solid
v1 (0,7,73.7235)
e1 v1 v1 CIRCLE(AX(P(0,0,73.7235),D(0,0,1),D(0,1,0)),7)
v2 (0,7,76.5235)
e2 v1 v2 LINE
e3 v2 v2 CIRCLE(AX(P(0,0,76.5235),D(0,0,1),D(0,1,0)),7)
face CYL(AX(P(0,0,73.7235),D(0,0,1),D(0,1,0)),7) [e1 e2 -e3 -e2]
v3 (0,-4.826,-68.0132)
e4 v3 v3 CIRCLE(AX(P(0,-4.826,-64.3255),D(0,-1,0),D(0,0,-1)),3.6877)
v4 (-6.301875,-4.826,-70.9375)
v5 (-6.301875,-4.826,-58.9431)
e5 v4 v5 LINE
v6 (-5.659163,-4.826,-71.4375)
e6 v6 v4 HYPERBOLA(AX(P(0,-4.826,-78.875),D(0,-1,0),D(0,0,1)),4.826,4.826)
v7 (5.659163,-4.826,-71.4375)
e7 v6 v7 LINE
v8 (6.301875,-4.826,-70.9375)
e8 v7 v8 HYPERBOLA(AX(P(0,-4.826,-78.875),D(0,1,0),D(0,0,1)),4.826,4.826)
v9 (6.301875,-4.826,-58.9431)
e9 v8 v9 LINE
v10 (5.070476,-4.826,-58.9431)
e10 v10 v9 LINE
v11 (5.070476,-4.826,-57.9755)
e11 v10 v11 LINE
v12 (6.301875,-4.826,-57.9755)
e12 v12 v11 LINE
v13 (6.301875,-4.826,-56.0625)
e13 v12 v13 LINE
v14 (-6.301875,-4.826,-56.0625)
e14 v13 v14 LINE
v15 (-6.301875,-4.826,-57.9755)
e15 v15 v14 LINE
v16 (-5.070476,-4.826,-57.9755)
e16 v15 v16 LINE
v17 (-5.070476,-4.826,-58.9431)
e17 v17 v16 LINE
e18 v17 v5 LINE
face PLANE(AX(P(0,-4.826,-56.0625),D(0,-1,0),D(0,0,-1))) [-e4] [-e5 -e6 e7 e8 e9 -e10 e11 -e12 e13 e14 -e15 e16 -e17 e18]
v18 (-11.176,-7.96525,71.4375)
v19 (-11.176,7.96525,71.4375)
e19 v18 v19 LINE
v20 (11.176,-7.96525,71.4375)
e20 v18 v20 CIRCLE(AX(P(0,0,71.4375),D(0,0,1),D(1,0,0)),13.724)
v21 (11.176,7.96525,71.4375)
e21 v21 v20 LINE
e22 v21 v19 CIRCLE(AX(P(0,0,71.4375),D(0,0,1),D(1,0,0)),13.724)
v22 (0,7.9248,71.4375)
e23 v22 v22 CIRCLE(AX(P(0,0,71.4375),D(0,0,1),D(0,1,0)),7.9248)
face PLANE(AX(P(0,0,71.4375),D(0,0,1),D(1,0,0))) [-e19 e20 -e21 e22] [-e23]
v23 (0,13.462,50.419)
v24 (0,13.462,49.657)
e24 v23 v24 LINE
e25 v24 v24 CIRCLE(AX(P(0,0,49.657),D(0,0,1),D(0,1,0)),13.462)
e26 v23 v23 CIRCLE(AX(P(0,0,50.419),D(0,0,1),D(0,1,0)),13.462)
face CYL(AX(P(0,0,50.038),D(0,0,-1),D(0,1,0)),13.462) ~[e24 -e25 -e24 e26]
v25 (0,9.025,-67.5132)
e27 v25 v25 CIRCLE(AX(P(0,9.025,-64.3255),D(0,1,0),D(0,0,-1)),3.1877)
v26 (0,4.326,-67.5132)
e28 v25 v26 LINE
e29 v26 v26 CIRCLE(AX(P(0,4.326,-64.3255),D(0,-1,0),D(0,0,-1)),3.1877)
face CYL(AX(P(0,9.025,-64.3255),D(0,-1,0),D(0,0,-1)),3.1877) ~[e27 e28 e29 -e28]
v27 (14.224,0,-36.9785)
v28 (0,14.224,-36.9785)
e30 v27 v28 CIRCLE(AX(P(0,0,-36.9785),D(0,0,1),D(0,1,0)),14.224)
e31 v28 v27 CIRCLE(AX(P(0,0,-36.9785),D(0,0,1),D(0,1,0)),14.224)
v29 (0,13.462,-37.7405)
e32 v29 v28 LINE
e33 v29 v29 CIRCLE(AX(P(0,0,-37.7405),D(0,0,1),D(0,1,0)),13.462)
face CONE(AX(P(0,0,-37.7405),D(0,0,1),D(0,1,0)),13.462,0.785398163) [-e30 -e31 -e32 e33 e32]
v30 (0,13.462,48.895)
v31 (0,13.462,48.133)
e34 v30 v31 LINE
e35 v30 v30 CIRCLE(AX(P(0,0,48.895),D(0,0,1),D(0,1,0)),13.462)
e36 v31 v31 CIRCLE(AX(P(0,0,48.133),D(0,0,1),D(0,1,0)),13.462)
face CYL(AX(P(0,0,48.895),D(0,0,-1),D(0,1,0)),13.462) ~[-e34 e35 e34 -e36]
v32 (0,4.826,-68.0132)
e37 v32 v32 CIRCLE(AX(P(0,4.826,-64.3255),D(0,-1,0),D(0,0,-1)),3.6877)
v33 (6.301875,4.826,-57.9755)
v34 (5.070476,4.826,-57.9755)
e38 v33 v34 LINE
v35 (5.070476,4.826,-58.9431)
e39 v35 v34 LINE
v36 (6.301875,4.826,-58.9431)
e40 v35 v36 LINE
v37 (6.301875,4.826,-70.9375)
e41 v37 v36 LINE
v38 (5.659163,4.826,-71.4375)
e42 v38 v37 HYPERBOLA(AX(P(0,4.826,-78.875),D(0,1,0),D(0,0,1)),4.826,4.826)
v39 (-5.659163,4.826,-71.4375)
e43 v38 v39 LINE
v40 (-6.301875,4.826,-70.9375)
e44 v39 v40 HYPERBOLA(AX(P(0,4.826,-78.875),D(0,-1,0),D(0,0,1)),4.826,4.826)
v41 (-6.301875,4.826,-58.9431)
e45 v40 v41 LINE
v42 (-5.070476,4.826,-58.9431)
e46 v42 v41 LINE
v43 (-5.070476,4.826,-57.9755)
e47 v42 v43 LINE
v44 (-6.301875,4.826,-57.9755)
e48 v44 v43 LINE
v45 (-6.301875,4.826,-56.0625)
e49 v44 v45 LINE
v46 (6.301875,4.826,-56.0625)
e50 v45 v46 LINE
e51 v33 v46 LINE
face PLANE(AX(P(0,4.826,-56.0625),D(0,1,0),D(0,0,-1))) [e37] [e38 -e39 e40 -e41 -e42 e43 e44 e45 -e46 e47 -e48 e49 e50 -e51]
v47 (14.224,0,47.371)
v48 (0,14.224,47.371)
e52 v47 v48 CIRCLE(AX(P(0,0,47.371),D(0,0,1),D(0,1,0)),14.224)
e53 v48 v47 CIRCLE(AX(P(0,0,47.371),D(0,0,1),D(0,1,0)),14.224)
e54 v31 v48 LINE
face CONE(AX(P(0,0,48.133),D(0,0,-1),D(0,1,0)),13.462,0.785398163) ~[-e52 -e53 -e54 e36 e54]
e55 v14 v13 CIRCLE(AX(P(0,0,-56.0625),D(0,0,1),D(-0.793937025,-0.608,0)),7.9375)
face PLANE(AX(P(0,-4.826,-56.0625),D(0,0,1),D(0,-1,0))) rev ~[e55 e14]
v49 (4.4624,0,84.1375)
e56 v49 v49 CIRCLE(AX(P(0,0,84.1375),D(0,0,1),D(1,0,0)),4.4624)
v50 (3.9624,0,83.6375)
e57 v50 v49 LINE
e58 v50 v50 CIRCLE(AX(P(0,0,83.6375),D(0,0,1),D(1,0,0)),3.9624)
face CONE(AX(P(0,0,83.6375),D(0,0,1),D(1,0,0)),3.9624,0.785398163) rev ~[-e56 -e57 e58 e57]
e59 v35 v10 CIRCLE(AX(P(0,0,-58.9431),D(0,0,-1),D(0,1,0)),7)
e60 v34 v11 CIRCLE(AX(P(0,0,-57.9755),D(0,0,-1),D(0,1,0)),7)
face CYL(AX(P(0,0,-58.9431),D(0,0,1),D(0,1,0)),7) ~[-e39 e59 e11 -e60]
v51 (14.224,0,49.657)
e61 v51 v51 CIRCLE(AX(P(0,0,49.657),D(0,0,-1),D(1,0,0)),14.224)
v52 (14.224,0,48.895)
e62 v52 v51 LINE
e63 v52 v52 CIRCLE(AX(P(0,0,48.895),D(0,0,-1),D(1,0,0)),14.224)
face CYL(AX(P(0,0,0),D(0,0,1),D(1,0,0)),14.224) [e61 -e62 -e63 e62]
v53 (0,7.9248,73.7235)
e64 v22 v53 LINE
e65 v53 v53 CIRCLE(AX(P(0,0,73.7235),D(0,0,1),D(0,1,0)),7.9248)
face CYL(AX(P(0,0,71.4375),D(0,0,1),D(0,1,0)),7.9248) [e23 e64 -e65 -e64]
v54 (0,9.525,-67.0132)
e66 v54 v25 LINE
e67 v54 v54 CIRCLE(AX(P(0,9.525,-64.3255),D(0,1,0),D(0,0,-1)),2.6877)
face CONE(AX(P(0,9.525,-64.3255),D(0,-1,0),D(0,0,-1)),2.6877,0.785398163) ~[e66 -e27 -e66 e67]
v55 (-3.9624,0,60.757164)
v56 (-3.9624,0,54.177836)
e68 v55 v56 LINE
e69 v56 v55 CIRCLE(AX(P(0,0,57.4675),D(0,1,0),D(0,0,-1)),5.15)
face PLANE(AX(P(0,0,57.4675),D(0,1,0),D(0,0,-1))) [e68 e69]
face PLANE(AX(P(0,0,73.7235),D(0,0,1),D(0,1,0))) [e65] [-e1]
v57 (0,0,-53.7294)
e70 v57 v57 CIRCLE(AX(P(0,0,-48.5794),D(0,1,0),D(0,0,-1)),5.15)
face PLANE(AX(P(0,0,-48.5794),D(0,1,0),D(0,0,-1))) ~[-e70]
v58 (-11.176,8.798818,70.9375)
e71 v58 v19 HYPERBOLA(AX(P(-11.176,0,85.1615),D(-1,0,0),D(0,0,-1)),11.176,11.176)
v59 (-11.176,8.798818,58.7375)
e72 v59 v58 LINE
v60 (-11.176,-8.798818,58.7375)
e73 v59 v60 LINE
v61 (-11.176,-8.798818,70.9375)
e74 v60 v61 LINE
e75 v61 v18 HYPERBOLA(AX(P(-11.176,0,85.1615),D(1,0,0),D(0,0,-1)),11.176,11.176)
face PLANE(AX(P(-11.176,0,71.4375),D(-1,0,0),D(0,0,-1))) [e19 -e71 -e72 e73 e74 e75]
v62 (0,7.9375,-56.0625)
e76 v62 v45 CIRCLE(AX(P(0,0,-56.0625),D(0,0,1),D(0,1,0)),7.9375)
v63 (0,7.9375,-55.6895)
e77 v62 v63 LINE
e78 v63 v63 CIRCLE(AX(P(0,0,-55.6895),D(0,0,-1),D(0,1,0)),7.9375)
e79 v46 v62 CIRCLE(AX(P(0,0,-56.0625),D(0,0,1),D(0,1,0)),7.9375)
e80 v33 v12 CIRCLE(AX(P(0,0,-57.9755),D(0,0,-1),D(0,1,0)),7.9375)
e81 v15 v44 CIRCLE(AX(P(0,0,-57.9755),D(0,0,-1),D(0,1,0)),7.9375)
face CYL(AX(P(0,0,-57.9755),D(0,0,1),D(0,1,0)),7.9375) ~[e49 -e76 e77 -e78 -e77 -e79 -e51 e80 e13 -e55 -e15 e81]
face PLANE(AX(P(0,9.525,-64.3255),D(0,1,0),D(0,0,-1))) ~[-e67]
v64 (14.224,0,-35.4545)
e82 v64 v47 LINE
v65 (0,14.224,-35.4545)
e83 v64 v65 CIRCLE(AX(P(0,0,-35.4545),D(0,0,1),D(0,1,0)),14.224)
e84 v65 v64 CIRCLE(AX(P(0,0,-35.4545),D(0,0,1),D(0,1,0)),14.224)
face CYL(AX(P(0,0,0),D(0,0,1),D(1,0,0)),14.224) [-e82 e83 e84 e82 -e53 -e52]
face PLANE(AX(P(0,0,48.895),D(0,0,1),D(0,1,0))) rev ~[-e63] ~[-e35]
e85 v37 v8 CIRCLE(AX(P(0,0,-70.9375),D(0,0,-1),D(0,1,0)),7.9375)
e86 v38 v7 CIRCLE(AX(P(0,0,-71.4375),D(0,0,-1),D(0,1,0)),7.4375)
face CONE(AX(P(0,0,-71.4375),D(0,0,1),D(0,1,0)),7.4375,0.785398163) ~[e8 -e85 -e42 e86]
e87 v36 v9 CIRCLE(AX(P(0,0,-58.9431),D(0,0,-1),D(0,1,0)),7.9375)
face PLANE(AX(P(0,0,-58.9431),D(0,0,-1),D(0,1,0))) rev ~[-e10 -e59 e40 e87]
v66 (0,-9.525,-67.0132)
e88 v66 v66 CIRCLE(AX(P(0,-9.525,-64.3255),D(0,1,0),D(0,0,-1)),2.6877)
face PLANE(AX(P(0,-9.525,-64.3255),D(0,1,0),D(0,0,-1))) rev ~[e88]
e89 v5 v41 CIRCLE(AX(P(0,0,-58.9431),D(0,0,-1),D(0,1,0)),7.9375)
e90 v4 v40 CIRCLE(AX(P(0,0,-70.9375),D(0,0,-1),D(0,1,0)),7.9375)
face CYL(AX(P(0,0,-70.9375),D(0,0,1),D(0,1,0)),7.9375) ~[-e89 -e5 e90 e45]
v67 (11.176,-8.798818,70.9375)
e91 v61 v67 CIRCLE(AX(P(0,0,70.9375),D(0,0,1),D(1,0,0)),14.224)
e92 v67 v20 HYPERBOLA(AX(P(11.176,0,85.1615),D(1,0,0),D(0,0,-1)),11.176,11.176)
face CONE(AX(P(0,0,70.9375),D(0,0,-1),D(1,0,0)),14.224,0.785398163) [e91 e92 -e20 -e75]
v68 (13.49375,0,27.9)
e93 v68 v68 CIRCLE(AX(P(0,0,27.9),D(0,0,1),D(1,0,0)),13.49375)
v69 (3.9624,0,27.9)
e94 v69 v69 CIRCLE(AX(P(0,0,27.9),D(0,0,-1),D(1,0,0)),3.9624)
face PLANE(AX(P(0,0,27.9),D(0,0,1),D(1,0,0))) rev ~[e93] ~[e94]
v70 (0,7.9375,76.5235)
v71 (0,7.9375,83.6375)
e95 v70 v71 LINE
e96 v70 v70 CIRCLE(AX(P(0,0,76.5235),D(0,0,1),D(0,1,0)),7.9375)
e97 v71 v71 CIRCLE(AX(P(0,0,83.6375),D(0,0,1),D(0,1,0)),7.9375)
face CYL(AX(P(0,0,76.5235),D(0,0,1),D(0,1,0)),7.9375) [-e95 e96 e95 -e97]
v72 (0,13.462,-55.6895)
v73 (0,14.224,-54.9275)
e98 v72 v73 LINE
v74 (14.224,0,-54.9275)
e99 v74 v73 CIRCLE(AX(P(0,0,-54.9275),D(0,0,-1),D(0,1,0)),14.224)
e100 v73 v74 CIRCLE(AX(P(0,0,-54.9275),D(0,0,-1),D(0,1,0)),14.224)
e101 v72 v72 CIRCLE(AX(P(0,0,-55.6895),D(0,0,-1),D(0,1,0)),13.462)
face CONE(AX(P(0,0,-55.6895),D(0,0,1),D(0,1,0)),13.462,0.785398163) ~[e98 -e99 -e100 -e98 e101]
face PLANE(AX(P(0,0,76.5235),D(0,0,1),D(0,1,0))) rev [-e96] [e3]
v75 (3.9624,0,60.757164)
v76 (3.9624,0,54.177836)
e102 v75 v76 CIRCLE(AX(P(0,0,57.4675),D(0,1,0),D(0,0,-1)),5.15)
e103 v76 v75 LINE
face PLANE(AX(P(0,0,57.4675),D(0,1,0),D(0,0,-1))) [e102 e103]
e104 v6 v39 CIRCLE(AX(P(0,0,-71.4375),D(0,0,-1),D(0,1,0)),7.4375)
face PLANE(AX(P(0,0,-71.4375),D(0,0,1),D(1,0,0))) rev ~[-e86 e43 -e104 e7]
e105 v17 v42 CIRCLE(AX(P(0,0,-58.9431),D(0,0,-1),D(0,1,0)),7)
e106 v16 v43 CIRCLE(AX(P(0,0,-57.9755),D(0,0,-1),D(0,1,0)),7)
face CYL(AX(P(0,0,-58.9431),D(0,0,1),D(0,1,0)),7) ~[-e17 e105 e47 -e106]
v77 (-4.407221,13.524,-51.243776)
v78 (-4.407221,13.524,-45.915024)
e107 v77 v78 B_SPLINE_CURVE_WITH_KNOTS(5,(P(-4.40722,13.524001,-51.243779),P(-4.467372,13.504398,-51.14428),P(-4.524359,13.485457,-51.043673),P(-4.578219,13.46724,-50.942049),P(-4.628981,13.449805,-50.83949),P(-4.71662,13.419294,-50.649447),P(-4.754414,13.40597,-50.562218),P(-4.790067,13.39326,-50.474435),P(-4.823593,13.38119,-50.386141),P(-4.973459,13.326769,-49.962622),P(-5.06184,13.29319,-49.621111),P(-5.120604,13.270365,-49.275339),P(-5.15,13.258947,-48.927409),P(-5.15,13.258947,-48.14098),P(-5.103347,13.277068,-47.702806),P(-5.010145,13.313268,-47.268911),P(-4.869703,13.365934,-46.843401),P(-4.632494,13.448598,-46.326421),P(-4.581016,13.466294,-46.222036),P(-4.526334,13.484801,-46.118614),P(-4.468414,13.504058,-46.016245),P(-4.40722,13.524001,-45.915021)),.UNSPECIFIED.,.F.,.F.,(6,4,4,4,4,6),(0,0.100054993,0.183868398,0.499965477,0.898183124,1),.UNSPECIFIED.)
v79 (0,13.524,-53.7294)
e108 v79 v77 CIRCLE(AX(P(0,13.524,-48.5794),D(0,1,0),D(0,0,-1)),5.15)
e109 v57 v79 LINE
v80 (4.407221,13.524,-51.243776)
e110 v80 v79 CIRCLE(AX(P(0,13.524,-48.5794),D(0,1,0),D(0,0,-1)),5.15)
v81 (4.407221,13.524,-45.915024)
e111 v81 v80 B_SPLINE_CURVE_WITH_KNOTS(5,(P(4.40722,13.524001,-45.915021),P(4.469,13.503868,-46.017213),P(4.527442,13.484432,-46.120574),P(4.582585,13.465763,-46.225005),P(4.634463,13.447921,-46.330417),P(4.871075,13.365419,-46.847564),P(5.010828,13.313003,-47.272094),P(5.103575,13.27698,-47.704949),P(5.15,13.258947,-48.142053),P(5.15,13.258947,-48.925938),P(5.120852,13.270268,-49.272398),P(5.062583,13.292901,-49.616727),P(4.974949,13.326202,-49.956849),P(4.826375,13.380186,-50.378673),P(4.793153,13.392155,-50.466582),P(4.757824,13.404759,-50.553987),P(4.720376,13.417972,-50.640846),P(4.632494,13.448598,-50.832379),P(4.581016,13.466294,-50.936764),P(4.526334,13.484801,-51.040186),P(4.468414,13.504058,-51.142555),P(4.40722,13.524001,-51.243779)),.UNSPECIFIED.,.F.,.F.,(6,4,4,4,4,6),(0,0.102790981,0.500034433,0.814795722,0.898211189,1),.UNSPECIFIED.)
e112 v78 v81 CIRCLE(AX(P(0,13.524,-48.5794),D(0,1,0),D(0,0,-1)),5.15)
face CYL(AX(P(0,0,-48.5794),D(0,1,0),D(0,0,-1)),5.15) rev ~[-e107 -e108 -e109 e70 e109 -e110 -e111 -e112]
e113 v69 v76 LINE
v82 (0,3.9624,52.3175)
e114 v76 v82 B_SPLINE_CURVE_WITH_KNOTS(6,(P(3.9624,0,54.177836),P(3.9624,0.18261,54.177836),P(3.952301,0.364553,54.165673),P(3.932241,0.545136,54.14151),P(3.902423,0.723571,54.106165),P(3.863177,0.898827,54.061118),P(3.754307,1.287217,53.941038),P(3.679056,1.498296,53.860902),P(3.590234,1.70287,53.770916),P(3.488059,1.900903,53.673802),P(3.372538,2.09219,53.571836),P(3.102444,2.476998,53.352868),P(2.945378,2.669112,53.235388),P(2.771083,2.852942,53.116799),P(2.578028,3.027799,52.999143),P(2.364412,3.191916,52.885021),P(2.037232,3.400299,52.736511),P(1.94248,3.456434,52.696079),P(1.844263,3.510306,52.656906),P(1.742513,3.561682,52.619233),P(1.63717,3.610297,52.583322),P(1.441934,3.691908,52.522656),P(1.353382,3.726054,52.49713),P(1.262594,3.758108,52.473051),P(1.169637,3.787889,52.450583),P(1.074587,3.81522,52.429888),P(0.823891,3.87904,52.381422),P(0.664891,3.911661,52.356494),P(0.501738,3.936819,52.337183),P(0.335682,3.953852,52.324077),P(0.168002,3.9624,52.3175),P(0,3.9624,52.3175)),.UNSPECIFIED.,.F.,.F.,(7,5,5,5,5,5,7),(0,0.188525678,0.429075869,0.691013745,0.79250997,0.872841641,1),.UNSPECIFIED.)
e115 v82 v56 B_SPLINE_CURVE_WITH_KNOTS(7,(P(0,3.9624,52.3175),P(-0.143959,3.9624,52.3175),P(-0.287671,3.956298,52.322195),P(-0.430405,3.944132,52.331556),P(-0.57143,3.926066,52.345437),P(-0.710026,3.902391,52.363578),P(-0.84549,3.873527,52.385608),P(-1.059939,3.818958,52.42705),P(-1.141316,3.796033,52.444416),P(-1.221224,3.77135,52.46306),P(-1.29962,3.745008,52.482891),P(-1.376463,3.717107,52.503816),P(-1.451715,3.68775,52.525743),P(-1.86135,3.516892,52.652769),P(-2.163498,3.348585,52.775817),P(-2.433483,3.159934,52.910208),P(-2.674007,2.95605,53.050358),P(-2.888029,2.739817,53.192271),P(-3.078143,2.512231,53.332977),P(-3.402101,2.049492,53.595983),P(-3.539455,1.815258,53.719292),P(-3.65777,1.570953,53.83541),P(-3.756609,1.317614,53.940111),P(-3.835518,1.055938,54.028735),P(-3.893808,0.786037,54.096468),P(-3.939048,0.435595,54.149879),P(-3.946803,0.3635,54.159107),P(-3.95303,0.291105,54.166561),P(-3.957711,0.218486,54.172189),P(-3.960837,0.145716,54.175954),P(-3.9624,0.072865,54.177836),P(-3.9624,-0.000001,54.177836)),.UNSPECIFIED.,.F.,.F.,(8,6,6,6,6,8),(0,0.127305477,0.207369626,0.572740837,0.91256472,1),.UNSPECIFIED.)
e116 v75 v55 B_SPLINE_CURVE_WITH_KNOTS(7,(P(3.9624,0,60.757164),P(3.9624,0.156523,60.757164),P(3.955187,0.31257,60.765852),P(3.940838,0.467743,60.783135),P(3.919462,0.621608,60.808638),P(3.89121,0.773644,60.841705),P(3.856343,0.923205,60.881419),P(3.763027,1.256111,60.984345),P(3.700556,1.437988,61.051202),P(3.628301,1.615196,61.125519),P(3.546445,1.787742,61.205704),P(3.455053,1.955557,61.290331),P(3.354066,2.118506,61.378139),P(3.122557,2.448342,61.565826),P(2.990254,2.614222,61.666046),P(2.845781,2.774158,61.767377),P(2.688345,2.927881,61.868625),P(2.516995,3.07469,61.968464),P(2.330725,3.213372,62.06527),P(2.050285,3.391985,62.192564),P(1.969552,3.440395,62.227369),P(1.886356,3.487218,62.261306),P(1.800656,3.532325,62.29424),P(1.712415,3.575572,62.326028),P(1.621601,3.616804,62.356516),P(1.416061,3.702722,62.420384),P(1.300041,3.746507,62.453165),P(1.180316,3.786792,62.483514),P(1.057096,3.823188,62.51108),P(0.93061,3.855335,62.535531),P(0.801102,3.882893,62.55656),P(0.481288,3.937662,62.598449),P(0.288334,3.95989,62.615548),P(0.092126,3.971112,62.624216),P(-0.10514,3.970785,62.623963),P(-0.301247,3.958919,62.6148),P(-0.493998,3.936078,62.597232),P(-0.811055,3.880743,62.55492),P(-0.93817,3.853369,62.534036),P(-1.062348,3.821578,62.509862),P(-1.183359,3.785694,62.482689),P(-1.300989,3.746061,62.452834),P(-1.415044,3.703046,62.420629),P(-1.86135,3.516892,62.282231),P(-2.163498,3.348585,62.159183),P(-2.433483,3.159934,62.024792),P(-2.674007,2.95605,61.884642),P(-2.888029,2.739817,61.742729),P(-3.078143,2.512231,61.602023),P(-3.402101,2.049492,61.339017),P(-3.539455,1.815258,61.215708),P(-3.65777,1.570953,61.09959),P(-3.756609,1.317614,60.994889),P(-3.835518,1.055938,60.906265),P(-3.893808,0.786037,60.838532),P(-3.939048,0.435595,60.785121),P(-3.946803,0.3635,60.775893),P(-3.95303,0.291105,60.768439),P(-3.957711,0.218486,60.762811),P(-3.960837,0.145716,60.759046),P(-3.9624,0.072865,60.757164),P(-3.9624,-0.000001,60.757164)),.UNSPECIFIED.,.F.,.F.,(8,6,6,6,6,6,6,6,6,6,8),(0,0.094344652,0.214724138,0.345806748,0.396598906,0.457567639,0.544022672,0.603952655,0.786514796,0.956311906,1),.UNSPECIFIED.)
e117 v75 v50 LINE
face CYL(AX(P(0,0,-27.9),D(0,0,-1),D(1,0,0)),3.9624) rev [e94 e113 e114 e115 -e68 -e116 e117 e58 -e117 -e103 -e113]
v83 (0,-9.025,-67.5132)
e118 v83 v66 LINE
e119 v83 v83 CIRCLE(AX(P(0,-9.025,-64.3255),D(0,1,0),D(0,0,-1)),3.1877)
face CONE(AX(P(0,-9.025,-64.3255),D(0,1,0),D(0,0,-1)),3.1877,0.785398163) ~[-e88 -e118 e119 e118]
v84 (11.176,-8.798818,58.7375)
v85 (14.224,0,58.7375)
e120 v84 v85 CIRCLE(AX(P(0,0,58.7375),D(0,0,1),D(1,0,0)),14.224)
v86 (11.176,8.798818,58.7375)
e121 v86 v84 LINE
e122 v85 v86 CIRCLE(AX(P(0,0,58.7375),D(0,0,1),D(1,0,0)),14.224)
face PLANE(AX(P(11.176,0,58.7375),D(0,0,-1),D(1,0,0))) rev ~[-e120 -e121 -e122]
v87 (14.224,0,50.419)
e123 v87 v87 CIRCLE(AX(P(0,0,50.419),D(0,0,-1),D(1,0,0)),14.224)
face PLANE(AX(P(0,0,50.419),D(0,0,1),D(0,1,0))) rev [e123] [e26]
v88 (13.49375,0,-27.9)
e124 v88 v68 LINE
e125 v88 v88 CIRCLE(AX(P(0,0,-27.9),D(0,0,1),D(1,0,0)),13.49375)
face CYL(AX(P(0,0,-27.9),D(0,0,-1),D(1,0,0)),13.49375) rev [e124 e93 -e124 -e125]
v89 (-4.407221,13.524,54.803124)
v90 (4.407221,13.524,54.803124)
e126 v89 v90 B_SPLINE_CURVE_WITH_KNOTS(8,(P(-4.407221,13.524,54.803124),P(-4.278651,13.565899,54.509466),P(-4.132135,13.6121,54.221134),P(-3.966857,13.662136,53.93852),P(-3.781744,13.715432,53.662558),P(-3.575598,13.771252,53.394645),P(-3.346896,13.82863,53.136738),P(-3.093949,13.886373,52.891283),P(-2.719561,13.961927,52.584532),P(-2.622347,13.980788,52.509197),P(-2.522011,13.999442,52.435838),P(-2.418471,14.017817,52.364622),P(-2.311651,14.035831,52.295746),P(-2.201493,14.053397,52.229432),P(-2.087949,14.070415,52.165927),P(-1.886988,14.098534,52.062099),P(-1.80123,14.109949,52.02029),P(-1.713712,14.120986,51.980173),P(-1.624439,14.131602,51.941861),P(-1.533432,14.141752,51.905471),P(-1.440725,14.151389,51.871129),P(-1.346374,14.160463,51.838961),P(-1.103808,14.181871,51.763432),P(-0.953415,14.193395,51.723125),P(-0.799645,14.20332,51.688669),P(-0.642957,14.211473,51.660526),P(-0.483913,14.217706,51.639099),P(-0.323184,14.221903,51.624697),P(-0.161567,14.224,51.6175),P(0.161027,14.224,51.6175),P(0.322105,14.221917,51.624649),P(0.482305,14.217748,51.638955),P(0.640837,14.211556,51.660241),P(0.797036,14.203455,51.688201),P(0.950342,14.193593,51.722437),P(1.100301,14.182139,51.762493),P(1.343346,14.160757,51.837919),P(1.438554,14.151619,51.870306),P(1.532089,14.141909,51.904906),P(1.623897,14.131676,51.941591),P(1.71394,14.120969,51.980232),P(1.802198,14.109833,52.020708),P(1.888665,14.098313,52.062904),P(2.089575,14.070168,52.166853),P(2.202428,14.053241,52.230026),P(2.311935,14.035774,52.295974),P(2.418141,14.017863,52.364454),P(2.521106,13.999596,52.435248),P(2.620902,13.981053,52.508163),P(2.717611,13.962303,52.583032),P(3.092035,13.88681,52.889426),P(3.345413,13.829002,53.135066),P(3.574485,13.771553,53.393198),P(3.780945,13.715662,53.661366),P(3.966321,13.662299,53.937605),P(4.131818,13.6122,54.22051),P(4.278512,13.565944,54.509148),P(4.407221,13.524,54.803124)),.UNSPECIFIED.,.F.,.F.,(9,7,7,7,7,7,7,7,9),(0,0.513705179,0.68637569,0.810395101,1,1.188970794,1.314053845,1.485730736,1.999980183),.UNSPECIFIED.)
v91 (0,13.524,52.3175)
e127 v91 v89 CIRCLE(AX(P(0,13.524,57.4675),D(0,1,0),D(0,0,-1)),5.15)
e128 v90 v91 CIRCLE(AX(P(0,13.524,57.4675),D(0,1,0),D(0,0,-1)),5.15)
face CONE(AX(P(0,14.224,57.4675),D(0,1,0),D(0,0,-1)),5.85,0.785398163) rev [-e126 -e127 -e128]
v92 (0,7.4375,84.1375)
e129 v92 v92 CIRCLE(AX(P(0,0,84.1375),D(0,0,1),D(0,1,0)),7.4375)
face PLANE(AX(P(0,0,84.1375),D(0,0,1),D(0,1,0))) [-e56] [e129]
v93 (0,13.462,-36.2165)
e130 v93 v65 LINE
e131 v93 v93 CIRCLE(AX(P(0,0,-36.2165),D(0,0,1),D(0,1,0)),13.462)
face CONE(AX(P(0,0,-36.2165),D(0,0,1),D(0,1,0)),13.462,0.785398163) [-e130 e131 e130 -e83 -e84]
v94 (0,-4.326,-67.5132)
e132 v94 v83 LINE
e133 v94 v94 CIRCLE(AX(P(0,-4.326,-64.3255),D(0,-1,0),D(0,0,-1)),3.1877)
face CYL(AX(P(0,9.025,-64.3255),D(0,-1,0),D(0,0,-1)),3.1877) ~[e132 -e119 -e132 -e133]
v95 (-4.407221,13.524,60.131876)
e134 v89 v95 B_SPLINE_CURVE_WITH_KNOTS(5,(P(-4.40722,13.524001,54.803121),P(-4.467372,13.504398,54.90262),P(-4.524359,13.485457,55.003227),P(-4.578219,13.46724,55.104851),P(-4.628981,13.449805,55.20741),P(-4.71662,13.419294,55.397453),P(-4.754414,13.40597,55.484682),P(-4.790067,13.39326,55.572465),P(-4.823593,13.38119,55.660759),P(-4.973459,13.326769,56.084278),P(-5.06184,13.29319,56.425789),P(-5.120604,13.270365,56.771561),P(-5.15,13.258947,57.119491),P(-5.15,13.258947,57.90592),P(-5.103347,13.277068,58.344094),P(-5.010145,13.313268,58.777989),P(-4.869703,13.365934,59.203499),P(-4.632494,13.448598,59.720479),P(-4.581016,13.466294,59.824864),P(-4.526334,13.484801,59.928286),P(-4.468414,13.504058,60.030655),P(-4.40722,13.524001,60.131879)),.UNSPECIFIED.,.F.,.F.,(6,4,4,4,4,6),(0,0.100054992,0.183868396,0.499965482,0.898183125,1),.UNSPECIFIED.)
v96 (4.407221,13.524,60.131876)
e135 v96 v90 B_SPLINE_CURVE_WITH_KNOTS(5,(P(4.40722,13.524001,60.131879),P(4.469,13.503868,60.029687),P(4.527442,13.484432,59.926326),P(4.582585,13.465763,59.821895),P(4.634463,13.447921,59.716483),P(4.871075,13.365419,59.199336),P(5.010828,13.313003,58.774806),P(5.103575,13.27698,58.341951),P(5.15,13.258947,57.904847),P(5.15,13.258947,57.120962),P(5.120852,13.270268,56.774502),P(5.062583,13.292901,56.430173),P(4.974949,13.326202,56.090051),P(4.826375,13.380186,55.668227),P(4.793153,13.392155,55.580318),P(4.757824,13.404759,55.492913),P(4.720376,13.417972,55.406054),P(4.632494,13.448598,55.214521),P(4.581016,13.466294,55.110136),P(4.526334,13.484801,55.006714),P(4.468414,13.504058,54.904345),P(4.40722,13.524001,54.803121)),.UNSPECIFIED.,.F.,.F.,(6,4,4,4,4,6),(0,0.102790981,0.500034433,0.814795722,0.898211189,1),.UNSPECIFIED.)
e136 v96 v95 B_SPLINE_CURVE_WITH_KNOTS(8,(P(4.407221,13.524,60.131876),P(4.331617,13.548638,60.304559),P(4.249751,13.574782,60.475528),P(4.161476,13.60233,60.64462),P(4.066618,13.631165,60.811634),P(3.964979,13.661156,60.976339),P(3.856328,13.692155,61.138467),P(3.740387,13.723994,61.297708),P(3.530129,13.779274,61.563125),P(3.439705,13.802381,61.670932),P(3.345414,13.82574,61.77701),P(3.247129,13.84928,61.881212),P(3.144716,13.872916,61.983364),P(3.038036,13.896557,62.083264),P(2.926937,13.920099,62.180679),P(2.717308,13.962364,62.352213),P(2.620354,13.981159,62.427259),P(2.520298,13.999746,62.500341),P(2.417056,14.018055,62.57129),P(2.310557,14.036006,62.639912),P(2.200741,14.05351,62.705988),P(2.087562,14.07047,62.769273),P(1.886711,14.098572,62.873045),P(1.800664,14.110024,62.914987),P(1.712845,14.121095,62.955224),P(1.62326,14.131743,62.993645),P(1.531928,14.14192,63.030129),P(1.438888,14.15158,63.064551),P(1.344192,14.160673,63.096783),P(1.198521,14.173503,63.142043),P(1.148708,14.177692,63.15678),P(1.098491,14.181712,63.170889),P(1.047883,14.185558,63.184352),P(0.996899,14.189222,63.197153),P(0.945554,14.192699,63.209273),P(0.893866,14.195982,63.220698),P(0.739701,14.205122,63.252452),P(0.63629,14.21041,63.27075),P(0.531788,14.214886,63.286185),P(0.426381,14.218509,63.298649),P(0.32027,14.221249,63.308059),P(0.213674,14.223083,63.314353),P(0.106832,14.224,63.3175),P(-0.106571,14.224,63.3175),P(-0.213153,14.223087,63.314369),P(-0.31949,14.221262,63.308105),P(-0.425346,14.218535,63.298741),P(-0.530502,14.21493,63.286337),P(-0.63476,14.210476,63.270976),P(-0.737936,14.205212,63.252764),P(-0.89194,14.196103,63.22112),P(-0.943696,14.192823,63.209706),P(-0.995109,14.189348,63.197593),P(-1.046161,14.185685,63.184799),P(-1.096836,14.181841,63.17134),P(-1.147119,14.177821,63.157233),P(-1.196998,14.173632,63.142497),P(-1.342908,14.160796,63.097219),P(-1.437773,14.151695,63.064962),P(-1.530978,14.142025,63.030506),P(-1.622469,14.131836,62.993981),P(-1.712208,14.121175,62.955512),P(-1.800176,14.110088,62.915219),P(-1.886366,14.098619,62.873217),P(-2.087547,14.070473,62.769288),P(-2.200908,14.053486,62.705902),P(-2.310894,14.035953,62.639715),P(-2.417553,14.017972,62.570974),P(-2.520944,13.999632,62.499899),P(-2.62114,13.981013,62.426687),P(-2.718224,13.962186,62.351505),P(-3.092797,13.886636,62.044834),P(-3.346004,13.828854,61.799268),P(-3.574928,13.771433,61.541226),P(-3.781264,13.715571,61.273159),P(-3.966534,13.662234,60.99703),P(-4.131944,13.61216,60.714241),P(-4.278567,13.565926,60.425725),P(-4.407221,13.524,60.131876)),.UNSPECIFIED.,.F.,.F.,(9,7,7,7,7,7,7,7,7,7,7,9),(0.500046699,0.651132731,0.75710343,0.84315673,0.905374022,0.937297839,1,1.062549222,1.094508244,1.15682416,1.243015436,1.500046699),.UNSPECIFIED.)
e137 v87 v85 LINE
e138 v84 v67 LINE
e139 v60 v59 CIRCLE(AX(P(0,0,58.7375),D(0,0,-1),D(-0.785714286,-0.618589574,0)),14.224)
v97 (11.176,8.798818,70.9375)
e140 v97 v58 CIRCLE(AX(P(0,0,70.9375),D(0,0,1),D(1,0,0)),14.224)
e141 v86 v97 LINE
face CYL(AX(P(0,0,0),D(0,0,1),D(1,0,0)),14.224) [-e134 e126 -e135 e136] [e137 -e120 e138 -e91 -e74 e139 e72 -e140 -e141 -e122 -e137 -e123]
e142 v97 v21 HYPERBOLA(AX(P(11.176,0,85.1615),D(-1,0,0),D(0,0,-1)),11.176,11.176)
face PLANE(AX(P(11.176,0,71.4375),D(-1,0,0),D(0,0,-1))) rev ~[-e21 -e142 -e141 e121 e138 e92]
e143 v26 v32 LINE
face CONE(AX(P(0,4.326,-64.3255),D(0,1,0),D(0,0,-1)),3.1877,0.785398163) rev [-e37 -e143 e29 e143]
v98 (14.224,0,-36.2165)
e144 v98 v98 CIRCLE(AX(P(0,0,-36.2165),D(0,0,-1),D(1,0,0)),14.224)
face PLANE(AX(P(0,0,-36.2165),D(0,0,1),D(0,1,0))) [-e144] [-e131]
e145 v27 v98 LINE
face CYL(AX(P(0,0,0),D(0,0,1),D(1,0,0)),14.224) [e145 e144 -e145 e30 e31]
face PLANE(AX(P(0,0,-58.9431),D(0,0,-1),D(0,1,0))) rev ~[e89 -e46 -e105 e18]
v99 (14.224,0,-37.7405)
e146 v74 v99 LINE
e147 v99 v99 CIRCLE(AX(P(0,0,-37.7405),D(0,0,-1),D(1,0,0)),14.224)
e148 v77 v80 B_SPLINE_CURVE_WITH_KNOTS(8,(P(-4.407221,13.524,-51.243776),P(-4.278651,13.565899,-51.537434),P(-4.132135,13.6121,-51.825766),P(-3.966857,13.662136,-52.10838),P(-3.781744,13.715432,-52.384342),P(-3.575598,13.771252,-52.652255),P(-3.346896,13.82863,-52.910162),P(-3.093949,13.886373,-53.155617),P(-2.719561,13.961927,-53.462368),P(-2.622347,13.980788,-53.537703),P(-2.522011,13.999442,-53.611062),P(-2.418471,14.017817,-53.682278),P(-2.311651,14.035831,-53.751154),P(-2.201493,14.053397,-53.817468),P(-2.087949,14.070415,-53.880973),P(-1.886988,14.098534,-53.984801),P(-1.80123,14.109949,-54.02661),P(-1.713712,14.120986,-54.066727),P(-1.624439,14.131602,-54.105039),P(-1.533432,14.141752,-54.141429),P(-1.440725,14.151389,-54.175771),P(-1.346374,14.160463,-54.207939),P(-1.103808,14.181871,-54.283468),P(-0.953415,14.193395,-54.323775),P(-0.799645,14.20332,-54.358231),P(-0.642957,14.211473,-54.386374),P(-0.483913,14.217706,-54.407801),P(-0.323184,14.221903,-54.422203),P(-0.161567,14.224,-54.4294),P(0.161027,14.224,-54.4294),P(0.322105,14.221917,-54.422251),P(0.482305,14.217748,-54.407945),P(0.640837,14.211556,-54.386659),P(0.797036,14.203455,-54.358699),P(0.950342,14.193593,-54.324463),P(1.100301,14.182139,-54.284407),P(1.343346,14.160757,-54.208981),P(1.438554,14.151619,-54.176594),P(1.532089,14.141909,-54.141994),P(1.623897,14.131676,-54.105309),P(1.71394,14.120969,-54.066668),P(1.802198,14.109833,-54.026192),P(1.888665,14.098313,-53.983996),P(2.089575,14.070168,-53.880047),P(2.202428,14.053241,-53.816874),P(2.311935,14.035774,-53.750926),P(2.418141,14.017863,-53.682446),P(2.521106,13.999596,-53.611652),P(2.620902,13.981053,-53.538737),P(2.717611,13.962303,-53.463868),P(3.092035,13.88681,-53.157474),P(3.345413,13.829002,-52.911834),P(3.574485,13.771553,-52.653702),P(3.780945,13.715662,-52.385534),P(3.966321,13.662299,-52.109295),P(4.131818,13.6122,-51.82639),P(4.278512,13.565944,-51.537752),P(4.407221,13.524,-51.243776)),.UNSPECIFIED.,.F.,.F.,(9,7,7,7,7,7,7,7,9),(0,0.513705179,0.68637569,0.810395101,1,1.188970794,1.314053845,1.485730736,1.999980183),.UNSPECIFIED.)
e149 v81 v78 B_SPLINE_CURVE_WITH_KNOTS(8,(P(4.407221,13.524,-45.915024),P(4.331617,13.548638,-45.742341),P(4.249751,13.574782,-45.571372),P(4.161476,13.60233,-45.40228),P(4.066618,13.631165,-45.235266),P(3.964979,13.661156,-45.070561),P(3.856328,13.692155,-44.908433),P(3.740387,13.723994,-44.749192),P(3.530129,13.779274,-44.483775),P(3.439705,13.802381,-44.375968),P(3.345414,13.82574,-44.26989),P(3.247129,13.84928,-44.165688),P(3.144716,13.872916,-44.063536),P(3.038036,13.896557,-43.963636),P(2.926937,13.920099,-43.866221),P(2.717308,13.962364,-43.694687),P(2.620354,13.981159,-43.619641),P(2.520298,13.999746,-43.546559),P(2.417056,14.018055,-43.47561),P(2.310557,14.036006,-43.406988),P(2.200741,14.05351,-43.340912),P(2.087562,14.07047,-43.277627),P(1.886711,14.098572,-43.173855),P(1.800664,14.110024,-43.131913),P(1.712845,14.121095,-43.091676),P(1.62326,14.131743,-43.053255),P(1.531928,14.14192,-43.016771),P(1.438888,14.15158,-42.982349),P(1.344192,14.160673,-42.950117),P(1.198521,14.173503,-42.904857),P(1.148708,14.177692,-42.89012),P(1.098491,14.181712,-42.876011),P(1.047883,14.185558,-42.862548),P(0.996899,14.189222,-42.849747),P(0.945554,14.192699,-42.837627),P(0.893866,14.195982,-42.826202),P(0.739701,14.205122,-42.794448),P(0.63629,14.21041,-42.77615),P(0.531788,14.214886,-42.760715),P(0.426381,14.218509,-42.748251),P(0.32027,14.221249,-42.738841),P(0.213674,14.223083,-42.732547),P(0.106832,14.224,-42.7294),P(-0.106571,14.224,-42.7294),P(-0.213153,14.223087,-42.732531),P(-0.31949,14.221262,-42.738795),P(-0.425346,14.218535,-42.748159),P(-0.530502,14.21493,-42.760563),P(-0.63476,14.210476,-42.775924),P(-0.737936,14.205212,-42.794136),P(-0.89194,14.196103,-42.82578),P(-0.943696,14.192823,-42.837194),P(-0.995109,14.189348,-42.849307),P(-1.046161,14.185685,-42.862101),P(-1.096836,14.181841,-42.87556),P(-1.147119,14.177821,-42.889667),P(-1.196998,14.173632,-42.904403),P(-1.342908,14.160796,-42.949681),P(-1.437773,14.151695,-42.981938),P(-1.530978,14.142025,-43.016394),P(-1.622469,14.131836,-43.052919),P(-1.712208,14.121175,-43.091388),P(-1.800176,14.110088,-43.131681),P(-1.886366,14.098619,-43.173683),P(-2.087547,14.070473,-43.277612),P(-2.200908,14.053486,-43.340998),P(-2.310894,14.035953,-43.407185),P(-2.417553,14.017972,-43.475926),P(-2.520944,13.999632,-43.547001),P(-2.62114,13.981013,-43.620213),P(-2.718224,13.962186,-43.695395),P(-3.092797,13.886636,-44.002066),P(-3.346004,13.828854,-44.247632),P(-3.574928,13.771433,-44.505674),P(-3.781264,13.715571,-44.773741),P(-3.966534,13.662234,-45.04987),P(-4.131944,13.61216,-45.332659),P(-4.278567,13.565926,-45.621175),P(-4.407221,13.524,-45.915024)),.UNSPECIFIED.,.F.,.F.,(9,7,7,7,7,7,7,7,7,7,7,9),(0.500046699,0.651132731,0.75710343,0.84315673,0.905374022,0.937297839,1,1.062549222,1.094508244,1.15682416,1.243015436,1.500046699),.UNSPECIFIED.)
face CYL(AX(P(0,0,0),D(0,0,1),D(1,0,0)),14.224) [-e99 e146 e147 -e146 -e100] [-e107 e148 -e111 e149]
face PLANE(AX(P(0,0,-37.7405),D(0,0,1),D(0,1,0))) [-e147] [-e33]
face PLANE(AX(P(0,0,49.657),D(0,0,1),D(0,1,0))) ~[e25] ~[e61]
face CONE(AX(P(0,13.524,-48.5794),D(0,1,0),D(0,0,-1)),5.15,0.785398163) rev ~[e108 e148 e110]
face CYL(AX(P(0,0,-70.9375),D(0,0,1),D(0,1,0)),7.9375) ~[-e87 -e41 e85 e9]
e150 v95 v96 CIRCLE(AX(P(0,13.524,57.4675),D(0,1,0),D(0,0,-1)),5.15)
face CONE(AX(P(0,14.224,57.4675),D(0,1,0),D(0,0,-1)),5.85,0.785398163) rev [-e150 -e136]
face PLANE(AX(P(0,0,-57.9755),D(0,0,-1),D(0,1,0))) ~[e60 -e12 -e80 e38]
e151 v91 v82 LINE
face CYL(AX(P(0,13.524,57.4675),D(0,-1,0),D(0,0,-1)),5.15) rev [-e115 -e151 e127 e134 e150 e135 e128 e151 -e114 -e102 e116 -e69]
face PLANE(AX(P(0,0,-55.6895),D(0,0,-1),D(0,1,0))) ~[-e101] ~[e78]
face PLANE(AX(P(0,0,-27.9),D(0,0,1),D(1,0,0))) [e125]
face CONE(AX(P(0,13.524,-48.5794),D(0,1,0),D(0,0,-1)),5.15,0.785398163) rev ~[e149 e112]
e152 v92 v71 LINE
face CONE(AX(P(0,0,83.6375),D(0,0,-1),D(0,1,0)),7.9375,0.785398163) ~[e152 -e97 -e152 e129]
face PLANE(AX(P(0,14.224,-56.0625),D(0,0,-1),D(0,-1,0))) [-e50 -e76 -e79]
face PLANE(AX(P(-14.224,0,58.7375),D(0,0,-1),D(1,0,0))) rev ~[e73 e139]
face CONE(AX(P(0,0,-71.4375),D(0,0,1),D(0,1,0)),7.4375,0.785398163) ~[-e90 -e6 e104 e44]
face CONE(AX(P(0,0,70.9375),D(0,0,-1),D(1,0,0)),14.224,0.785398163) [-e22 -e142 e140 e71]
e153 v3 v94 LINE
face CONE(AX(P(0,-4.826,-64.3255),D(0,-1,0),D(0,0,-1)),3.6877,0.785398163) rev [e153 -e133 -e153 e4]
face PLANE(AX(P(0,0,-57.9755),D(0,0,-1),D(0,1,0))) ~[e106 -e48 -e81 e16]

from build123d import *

# Parameters (mm, degrees)
SKETCH1_R           = 14.224
EXTRUDE1_DEPTH      = 71.4375
EXTRUDE1_DEPTH_BACK = 71.4375
SKETCH3_W           = 0.762
SKETCH3_H           = 0.762
RODHOLE_START       = -112.0375
SKETCH8_R           = 3.9624
RODHOLE_DEPTH       = 112.0375
SKETCH9_R           = 13.49375
STROKECHAMBER_DEPTH = 55.8
CHAMFER1_SIZE       = 0.5
SKETCH4_W           = 3.048
SKETCH4_H           = 12.7
SKETCH4_W_2         = 0.5
SKETCH4_H_2         = 6.096
FLATS_DEPTH         = 15.2240001
FLATS_DEPTH_BACK    = 15.2240001
SKETCH12_W          = 9.398
SKETCH12_H          = 15.375
ENDFLATS_DEPTH      = 15.2240001
ENDFLATS_DEPTH_BACK = 15.2240001


with BuildPart() as part:
    # Sketch1 → Extrude1 (new body, two sides)
    with BuildSketch(Plane.XY) as extrude1_sk:
        Circle(SKETCH1_R)
    extrude(amount=EXTRUDE1_DEPTH)
    extrude(extrude1_sk.sketch, amount=-EXTRUDE1_DEPTH_BACK)

    # Sketch2 → Nose (revolve)
    with BuildSketch(Plane(origin=(0, 0, 0), x_dir=(0, 0, -1), z_dir=(1, 0, 0))):
        Polygon((-71.4375, 7.9248), (-73.7235, 7.9248), (-73.7235, 7), (-76.5235, 7), (-76.5235, 7.9375), (-84.1375, 7.9375), (-84.1375, 0), (-71.4375, 0), align=None)
    revolve(axis=Axis((0, 0, 0), (0, 0, 1)))

    # Sketch3 → CoverGrooves (revolve, cut)
    with BuildSketch(Plane(origin=(0, 0, 0), x_dir=(0, 0, -1), z_dir=(1, 0, 0))):
        with Locations((-50.038, 13.843)):
            Rectangle(SKETCH3_W, SKETCH3_H)
        Polygon((-48.895, 14.224), (-48.895, 13.462), (-48.133, 13.462), (-47.371, 14.224), align=None)
        Polygon((37.7405, 14.224), (37.7405, 13.462), (36.9785, 14.224), align=None)
        Polygon((36.2165, 14.224), (36.2165, 13.462), (35.4545, 14.224), align=None)
    revolve(axis=Axis((0, 0, 0), (0, 0, 1)), mode=Mode.SUBTRACT)

    # Sketch7 → FrontPort (revolve, cut)
    with BuildSketch(Plane(origin=(0, 0, 0), x_dir=(0, 0, -1), z_dir=(1, 0, 0))):
        Polygon((-57.4675, 14.224), (-51.6175, 14.224), (-52.3175, 13.524), (-52.3175, 0), (-57.4675, 0), align=None)
    revolve(axis=Axis((0, 0, 57.4675), (0, 1, 0)), mode=Mode.SUBTRACT)

    # Sketch8 → RodHole (cut)
    with BuildSketch(Plane.XY.offset(84.1375).offset(RODHOLE_START)):
        Circle(SKETCH8_R)
    extrude(amount=RODHOLE_DEPTH, mode=Mode.SUBTRACT)

    # Sketch9 → StrokeChamber (cut)
    with BuildSketch(Plane.XY.offset(-27.9)):
        Circle(SKETCH9_R)
    extrude(amount=STROKECHAMBER_DEPTH, mode=Mode.SUBTRACT)

    # Chamfer1
    chamfer1_edges = [part.edges().sort_by_distance(p)[0] for p in [
        (-14.224, 0, -71.4375),
        (-3.9624, 0, 84.1375),
        (-14.224, 0, 71.4375),
        (0, -7.9375, 84.1375),
    ]]
    chamfer(chamfer1_edges, length=CHAMFER1_SIZE)

    # Sketch4 → Flats (cut, two sides)
    with BuildSketch(Plane(origin=(0, 0, 0), x_dir=(1, 0, 0), z_dir=(0, 1, 0))) as flats_sk:
        with Locations((12.7, -65.0875)):
            Rectangle(SKETCH4_W, SKETCH4_H)
        with Locations((13.974, 68.3895)):
            Rectangle(SKETCH4_W_2, SKETCH4_H_2)
        with Locations((-13.974, 68.3895)):
            Rectangle(SKETCH4_W_2, SKETCH4_H_2)
        with Locations((-12.7, -65.0875)):
            Rectangle(SKETCH4_W, SKETCH4_H)
    extrude(amount=FLATS_DEPTH, mode=Mode.SUBTRACT)
    extrude(flats_sk.sketch, amount=-FLATS_DEPTH_BACK, mode=Mode.SUBTRACT)

    # Sketch11 → EndThreads (revolve, cut)
    with BuildSketch(Plane(origin=(0, 0, 0), x_dir=(0, 0, -1), z_dir=(1, 0, 0))):
        Polygon((71.4375, 7.4375), (70.9375, 7.9375), (58.9431, 7.9375), (58.9431, 7), (57.9755, 7), (57.9755, 7.9375), (55.6895, 7.9375), (55.6895, 13.462), (54.9275, 14.224), (71.4375, 14.224), align=None)
    revolve(axis=Axis((0, 0, 0), (0, 0, -1)), mode=Mode.SUBTRACT)

    # Sketch13 → RearTopPort (revolve, cut)
    with BuildSketch(Plane(origin=(0, 0, 0), x_dir=(0, 0, -1), z_dir=(1, 0, 0))):
        Polygon((48.5794, 0), (53.7294, 0), (53.7294, 13.524), (54.4294, 14.224), (48.5794, 14.224), align=None)
    revolve(axis=Axis((0, 0, -48.5794), (0, 1, 0)), mode=Mode.SUBTRACT)

    # Sketch12 → EndFlats (cut, two sides)
    with BuildSketch(Plane(origin=(0, 0, 0), x_dir=(0, -1, 0), z_dir=(1, 0, 0))) as endflats_sk:
        with Locations((9.525, 63.75)):
            Rectangle(SKETCH12_W, SKETCH12_H)
        with Locations((-9.525, 63.75)):
            Rectangle(SKETCH12_W, SKETCH12_H)
    extrude(amount=ENDFLATS_DEPTH, mode=Mode.SUBTRACT)
    extrude(endflats_sk.sketch, amount=-ENDFLATS_DEPTH_BACK, mode=Mode.SUBTRACT)

    # Sketch15 → ClevisPinHole (revolve, cut)
    with BuildSketch(Plane(origin=(0, 0, 0), x_dir=(0, -1, 0), z_dir=(1, 0, 0))):
        Polygon((4.826, 68.0132), (4.326, 67.5132), (-4.326, 67.5132), (-4.826, 68.0132), (-4.826, 64.3255), (4.826, 64.3255), align=None)
    revolve(axis=Axis((0, 0, -64.3255), (0, -1, 0)), mode=Mode.SUBTRACT)

    # Sketch18 → ClevisPin (revolve)
    with BuildSketch(Plane(origin=(0, 0, 0), x_dir=(0, 0, -1), z_dir=(1, 0, 0))):
        Polygon((64.3255, 9.525), (67.0132, 9.525), (67.5132, 9.025), (67.5132, -9.025), (67.0132, -9.525), (64.3255, -9.525), align=None)
    revolve(axis=Axis((0, 0, -64.3255), (0, 1, 0)))


solid = part.part
